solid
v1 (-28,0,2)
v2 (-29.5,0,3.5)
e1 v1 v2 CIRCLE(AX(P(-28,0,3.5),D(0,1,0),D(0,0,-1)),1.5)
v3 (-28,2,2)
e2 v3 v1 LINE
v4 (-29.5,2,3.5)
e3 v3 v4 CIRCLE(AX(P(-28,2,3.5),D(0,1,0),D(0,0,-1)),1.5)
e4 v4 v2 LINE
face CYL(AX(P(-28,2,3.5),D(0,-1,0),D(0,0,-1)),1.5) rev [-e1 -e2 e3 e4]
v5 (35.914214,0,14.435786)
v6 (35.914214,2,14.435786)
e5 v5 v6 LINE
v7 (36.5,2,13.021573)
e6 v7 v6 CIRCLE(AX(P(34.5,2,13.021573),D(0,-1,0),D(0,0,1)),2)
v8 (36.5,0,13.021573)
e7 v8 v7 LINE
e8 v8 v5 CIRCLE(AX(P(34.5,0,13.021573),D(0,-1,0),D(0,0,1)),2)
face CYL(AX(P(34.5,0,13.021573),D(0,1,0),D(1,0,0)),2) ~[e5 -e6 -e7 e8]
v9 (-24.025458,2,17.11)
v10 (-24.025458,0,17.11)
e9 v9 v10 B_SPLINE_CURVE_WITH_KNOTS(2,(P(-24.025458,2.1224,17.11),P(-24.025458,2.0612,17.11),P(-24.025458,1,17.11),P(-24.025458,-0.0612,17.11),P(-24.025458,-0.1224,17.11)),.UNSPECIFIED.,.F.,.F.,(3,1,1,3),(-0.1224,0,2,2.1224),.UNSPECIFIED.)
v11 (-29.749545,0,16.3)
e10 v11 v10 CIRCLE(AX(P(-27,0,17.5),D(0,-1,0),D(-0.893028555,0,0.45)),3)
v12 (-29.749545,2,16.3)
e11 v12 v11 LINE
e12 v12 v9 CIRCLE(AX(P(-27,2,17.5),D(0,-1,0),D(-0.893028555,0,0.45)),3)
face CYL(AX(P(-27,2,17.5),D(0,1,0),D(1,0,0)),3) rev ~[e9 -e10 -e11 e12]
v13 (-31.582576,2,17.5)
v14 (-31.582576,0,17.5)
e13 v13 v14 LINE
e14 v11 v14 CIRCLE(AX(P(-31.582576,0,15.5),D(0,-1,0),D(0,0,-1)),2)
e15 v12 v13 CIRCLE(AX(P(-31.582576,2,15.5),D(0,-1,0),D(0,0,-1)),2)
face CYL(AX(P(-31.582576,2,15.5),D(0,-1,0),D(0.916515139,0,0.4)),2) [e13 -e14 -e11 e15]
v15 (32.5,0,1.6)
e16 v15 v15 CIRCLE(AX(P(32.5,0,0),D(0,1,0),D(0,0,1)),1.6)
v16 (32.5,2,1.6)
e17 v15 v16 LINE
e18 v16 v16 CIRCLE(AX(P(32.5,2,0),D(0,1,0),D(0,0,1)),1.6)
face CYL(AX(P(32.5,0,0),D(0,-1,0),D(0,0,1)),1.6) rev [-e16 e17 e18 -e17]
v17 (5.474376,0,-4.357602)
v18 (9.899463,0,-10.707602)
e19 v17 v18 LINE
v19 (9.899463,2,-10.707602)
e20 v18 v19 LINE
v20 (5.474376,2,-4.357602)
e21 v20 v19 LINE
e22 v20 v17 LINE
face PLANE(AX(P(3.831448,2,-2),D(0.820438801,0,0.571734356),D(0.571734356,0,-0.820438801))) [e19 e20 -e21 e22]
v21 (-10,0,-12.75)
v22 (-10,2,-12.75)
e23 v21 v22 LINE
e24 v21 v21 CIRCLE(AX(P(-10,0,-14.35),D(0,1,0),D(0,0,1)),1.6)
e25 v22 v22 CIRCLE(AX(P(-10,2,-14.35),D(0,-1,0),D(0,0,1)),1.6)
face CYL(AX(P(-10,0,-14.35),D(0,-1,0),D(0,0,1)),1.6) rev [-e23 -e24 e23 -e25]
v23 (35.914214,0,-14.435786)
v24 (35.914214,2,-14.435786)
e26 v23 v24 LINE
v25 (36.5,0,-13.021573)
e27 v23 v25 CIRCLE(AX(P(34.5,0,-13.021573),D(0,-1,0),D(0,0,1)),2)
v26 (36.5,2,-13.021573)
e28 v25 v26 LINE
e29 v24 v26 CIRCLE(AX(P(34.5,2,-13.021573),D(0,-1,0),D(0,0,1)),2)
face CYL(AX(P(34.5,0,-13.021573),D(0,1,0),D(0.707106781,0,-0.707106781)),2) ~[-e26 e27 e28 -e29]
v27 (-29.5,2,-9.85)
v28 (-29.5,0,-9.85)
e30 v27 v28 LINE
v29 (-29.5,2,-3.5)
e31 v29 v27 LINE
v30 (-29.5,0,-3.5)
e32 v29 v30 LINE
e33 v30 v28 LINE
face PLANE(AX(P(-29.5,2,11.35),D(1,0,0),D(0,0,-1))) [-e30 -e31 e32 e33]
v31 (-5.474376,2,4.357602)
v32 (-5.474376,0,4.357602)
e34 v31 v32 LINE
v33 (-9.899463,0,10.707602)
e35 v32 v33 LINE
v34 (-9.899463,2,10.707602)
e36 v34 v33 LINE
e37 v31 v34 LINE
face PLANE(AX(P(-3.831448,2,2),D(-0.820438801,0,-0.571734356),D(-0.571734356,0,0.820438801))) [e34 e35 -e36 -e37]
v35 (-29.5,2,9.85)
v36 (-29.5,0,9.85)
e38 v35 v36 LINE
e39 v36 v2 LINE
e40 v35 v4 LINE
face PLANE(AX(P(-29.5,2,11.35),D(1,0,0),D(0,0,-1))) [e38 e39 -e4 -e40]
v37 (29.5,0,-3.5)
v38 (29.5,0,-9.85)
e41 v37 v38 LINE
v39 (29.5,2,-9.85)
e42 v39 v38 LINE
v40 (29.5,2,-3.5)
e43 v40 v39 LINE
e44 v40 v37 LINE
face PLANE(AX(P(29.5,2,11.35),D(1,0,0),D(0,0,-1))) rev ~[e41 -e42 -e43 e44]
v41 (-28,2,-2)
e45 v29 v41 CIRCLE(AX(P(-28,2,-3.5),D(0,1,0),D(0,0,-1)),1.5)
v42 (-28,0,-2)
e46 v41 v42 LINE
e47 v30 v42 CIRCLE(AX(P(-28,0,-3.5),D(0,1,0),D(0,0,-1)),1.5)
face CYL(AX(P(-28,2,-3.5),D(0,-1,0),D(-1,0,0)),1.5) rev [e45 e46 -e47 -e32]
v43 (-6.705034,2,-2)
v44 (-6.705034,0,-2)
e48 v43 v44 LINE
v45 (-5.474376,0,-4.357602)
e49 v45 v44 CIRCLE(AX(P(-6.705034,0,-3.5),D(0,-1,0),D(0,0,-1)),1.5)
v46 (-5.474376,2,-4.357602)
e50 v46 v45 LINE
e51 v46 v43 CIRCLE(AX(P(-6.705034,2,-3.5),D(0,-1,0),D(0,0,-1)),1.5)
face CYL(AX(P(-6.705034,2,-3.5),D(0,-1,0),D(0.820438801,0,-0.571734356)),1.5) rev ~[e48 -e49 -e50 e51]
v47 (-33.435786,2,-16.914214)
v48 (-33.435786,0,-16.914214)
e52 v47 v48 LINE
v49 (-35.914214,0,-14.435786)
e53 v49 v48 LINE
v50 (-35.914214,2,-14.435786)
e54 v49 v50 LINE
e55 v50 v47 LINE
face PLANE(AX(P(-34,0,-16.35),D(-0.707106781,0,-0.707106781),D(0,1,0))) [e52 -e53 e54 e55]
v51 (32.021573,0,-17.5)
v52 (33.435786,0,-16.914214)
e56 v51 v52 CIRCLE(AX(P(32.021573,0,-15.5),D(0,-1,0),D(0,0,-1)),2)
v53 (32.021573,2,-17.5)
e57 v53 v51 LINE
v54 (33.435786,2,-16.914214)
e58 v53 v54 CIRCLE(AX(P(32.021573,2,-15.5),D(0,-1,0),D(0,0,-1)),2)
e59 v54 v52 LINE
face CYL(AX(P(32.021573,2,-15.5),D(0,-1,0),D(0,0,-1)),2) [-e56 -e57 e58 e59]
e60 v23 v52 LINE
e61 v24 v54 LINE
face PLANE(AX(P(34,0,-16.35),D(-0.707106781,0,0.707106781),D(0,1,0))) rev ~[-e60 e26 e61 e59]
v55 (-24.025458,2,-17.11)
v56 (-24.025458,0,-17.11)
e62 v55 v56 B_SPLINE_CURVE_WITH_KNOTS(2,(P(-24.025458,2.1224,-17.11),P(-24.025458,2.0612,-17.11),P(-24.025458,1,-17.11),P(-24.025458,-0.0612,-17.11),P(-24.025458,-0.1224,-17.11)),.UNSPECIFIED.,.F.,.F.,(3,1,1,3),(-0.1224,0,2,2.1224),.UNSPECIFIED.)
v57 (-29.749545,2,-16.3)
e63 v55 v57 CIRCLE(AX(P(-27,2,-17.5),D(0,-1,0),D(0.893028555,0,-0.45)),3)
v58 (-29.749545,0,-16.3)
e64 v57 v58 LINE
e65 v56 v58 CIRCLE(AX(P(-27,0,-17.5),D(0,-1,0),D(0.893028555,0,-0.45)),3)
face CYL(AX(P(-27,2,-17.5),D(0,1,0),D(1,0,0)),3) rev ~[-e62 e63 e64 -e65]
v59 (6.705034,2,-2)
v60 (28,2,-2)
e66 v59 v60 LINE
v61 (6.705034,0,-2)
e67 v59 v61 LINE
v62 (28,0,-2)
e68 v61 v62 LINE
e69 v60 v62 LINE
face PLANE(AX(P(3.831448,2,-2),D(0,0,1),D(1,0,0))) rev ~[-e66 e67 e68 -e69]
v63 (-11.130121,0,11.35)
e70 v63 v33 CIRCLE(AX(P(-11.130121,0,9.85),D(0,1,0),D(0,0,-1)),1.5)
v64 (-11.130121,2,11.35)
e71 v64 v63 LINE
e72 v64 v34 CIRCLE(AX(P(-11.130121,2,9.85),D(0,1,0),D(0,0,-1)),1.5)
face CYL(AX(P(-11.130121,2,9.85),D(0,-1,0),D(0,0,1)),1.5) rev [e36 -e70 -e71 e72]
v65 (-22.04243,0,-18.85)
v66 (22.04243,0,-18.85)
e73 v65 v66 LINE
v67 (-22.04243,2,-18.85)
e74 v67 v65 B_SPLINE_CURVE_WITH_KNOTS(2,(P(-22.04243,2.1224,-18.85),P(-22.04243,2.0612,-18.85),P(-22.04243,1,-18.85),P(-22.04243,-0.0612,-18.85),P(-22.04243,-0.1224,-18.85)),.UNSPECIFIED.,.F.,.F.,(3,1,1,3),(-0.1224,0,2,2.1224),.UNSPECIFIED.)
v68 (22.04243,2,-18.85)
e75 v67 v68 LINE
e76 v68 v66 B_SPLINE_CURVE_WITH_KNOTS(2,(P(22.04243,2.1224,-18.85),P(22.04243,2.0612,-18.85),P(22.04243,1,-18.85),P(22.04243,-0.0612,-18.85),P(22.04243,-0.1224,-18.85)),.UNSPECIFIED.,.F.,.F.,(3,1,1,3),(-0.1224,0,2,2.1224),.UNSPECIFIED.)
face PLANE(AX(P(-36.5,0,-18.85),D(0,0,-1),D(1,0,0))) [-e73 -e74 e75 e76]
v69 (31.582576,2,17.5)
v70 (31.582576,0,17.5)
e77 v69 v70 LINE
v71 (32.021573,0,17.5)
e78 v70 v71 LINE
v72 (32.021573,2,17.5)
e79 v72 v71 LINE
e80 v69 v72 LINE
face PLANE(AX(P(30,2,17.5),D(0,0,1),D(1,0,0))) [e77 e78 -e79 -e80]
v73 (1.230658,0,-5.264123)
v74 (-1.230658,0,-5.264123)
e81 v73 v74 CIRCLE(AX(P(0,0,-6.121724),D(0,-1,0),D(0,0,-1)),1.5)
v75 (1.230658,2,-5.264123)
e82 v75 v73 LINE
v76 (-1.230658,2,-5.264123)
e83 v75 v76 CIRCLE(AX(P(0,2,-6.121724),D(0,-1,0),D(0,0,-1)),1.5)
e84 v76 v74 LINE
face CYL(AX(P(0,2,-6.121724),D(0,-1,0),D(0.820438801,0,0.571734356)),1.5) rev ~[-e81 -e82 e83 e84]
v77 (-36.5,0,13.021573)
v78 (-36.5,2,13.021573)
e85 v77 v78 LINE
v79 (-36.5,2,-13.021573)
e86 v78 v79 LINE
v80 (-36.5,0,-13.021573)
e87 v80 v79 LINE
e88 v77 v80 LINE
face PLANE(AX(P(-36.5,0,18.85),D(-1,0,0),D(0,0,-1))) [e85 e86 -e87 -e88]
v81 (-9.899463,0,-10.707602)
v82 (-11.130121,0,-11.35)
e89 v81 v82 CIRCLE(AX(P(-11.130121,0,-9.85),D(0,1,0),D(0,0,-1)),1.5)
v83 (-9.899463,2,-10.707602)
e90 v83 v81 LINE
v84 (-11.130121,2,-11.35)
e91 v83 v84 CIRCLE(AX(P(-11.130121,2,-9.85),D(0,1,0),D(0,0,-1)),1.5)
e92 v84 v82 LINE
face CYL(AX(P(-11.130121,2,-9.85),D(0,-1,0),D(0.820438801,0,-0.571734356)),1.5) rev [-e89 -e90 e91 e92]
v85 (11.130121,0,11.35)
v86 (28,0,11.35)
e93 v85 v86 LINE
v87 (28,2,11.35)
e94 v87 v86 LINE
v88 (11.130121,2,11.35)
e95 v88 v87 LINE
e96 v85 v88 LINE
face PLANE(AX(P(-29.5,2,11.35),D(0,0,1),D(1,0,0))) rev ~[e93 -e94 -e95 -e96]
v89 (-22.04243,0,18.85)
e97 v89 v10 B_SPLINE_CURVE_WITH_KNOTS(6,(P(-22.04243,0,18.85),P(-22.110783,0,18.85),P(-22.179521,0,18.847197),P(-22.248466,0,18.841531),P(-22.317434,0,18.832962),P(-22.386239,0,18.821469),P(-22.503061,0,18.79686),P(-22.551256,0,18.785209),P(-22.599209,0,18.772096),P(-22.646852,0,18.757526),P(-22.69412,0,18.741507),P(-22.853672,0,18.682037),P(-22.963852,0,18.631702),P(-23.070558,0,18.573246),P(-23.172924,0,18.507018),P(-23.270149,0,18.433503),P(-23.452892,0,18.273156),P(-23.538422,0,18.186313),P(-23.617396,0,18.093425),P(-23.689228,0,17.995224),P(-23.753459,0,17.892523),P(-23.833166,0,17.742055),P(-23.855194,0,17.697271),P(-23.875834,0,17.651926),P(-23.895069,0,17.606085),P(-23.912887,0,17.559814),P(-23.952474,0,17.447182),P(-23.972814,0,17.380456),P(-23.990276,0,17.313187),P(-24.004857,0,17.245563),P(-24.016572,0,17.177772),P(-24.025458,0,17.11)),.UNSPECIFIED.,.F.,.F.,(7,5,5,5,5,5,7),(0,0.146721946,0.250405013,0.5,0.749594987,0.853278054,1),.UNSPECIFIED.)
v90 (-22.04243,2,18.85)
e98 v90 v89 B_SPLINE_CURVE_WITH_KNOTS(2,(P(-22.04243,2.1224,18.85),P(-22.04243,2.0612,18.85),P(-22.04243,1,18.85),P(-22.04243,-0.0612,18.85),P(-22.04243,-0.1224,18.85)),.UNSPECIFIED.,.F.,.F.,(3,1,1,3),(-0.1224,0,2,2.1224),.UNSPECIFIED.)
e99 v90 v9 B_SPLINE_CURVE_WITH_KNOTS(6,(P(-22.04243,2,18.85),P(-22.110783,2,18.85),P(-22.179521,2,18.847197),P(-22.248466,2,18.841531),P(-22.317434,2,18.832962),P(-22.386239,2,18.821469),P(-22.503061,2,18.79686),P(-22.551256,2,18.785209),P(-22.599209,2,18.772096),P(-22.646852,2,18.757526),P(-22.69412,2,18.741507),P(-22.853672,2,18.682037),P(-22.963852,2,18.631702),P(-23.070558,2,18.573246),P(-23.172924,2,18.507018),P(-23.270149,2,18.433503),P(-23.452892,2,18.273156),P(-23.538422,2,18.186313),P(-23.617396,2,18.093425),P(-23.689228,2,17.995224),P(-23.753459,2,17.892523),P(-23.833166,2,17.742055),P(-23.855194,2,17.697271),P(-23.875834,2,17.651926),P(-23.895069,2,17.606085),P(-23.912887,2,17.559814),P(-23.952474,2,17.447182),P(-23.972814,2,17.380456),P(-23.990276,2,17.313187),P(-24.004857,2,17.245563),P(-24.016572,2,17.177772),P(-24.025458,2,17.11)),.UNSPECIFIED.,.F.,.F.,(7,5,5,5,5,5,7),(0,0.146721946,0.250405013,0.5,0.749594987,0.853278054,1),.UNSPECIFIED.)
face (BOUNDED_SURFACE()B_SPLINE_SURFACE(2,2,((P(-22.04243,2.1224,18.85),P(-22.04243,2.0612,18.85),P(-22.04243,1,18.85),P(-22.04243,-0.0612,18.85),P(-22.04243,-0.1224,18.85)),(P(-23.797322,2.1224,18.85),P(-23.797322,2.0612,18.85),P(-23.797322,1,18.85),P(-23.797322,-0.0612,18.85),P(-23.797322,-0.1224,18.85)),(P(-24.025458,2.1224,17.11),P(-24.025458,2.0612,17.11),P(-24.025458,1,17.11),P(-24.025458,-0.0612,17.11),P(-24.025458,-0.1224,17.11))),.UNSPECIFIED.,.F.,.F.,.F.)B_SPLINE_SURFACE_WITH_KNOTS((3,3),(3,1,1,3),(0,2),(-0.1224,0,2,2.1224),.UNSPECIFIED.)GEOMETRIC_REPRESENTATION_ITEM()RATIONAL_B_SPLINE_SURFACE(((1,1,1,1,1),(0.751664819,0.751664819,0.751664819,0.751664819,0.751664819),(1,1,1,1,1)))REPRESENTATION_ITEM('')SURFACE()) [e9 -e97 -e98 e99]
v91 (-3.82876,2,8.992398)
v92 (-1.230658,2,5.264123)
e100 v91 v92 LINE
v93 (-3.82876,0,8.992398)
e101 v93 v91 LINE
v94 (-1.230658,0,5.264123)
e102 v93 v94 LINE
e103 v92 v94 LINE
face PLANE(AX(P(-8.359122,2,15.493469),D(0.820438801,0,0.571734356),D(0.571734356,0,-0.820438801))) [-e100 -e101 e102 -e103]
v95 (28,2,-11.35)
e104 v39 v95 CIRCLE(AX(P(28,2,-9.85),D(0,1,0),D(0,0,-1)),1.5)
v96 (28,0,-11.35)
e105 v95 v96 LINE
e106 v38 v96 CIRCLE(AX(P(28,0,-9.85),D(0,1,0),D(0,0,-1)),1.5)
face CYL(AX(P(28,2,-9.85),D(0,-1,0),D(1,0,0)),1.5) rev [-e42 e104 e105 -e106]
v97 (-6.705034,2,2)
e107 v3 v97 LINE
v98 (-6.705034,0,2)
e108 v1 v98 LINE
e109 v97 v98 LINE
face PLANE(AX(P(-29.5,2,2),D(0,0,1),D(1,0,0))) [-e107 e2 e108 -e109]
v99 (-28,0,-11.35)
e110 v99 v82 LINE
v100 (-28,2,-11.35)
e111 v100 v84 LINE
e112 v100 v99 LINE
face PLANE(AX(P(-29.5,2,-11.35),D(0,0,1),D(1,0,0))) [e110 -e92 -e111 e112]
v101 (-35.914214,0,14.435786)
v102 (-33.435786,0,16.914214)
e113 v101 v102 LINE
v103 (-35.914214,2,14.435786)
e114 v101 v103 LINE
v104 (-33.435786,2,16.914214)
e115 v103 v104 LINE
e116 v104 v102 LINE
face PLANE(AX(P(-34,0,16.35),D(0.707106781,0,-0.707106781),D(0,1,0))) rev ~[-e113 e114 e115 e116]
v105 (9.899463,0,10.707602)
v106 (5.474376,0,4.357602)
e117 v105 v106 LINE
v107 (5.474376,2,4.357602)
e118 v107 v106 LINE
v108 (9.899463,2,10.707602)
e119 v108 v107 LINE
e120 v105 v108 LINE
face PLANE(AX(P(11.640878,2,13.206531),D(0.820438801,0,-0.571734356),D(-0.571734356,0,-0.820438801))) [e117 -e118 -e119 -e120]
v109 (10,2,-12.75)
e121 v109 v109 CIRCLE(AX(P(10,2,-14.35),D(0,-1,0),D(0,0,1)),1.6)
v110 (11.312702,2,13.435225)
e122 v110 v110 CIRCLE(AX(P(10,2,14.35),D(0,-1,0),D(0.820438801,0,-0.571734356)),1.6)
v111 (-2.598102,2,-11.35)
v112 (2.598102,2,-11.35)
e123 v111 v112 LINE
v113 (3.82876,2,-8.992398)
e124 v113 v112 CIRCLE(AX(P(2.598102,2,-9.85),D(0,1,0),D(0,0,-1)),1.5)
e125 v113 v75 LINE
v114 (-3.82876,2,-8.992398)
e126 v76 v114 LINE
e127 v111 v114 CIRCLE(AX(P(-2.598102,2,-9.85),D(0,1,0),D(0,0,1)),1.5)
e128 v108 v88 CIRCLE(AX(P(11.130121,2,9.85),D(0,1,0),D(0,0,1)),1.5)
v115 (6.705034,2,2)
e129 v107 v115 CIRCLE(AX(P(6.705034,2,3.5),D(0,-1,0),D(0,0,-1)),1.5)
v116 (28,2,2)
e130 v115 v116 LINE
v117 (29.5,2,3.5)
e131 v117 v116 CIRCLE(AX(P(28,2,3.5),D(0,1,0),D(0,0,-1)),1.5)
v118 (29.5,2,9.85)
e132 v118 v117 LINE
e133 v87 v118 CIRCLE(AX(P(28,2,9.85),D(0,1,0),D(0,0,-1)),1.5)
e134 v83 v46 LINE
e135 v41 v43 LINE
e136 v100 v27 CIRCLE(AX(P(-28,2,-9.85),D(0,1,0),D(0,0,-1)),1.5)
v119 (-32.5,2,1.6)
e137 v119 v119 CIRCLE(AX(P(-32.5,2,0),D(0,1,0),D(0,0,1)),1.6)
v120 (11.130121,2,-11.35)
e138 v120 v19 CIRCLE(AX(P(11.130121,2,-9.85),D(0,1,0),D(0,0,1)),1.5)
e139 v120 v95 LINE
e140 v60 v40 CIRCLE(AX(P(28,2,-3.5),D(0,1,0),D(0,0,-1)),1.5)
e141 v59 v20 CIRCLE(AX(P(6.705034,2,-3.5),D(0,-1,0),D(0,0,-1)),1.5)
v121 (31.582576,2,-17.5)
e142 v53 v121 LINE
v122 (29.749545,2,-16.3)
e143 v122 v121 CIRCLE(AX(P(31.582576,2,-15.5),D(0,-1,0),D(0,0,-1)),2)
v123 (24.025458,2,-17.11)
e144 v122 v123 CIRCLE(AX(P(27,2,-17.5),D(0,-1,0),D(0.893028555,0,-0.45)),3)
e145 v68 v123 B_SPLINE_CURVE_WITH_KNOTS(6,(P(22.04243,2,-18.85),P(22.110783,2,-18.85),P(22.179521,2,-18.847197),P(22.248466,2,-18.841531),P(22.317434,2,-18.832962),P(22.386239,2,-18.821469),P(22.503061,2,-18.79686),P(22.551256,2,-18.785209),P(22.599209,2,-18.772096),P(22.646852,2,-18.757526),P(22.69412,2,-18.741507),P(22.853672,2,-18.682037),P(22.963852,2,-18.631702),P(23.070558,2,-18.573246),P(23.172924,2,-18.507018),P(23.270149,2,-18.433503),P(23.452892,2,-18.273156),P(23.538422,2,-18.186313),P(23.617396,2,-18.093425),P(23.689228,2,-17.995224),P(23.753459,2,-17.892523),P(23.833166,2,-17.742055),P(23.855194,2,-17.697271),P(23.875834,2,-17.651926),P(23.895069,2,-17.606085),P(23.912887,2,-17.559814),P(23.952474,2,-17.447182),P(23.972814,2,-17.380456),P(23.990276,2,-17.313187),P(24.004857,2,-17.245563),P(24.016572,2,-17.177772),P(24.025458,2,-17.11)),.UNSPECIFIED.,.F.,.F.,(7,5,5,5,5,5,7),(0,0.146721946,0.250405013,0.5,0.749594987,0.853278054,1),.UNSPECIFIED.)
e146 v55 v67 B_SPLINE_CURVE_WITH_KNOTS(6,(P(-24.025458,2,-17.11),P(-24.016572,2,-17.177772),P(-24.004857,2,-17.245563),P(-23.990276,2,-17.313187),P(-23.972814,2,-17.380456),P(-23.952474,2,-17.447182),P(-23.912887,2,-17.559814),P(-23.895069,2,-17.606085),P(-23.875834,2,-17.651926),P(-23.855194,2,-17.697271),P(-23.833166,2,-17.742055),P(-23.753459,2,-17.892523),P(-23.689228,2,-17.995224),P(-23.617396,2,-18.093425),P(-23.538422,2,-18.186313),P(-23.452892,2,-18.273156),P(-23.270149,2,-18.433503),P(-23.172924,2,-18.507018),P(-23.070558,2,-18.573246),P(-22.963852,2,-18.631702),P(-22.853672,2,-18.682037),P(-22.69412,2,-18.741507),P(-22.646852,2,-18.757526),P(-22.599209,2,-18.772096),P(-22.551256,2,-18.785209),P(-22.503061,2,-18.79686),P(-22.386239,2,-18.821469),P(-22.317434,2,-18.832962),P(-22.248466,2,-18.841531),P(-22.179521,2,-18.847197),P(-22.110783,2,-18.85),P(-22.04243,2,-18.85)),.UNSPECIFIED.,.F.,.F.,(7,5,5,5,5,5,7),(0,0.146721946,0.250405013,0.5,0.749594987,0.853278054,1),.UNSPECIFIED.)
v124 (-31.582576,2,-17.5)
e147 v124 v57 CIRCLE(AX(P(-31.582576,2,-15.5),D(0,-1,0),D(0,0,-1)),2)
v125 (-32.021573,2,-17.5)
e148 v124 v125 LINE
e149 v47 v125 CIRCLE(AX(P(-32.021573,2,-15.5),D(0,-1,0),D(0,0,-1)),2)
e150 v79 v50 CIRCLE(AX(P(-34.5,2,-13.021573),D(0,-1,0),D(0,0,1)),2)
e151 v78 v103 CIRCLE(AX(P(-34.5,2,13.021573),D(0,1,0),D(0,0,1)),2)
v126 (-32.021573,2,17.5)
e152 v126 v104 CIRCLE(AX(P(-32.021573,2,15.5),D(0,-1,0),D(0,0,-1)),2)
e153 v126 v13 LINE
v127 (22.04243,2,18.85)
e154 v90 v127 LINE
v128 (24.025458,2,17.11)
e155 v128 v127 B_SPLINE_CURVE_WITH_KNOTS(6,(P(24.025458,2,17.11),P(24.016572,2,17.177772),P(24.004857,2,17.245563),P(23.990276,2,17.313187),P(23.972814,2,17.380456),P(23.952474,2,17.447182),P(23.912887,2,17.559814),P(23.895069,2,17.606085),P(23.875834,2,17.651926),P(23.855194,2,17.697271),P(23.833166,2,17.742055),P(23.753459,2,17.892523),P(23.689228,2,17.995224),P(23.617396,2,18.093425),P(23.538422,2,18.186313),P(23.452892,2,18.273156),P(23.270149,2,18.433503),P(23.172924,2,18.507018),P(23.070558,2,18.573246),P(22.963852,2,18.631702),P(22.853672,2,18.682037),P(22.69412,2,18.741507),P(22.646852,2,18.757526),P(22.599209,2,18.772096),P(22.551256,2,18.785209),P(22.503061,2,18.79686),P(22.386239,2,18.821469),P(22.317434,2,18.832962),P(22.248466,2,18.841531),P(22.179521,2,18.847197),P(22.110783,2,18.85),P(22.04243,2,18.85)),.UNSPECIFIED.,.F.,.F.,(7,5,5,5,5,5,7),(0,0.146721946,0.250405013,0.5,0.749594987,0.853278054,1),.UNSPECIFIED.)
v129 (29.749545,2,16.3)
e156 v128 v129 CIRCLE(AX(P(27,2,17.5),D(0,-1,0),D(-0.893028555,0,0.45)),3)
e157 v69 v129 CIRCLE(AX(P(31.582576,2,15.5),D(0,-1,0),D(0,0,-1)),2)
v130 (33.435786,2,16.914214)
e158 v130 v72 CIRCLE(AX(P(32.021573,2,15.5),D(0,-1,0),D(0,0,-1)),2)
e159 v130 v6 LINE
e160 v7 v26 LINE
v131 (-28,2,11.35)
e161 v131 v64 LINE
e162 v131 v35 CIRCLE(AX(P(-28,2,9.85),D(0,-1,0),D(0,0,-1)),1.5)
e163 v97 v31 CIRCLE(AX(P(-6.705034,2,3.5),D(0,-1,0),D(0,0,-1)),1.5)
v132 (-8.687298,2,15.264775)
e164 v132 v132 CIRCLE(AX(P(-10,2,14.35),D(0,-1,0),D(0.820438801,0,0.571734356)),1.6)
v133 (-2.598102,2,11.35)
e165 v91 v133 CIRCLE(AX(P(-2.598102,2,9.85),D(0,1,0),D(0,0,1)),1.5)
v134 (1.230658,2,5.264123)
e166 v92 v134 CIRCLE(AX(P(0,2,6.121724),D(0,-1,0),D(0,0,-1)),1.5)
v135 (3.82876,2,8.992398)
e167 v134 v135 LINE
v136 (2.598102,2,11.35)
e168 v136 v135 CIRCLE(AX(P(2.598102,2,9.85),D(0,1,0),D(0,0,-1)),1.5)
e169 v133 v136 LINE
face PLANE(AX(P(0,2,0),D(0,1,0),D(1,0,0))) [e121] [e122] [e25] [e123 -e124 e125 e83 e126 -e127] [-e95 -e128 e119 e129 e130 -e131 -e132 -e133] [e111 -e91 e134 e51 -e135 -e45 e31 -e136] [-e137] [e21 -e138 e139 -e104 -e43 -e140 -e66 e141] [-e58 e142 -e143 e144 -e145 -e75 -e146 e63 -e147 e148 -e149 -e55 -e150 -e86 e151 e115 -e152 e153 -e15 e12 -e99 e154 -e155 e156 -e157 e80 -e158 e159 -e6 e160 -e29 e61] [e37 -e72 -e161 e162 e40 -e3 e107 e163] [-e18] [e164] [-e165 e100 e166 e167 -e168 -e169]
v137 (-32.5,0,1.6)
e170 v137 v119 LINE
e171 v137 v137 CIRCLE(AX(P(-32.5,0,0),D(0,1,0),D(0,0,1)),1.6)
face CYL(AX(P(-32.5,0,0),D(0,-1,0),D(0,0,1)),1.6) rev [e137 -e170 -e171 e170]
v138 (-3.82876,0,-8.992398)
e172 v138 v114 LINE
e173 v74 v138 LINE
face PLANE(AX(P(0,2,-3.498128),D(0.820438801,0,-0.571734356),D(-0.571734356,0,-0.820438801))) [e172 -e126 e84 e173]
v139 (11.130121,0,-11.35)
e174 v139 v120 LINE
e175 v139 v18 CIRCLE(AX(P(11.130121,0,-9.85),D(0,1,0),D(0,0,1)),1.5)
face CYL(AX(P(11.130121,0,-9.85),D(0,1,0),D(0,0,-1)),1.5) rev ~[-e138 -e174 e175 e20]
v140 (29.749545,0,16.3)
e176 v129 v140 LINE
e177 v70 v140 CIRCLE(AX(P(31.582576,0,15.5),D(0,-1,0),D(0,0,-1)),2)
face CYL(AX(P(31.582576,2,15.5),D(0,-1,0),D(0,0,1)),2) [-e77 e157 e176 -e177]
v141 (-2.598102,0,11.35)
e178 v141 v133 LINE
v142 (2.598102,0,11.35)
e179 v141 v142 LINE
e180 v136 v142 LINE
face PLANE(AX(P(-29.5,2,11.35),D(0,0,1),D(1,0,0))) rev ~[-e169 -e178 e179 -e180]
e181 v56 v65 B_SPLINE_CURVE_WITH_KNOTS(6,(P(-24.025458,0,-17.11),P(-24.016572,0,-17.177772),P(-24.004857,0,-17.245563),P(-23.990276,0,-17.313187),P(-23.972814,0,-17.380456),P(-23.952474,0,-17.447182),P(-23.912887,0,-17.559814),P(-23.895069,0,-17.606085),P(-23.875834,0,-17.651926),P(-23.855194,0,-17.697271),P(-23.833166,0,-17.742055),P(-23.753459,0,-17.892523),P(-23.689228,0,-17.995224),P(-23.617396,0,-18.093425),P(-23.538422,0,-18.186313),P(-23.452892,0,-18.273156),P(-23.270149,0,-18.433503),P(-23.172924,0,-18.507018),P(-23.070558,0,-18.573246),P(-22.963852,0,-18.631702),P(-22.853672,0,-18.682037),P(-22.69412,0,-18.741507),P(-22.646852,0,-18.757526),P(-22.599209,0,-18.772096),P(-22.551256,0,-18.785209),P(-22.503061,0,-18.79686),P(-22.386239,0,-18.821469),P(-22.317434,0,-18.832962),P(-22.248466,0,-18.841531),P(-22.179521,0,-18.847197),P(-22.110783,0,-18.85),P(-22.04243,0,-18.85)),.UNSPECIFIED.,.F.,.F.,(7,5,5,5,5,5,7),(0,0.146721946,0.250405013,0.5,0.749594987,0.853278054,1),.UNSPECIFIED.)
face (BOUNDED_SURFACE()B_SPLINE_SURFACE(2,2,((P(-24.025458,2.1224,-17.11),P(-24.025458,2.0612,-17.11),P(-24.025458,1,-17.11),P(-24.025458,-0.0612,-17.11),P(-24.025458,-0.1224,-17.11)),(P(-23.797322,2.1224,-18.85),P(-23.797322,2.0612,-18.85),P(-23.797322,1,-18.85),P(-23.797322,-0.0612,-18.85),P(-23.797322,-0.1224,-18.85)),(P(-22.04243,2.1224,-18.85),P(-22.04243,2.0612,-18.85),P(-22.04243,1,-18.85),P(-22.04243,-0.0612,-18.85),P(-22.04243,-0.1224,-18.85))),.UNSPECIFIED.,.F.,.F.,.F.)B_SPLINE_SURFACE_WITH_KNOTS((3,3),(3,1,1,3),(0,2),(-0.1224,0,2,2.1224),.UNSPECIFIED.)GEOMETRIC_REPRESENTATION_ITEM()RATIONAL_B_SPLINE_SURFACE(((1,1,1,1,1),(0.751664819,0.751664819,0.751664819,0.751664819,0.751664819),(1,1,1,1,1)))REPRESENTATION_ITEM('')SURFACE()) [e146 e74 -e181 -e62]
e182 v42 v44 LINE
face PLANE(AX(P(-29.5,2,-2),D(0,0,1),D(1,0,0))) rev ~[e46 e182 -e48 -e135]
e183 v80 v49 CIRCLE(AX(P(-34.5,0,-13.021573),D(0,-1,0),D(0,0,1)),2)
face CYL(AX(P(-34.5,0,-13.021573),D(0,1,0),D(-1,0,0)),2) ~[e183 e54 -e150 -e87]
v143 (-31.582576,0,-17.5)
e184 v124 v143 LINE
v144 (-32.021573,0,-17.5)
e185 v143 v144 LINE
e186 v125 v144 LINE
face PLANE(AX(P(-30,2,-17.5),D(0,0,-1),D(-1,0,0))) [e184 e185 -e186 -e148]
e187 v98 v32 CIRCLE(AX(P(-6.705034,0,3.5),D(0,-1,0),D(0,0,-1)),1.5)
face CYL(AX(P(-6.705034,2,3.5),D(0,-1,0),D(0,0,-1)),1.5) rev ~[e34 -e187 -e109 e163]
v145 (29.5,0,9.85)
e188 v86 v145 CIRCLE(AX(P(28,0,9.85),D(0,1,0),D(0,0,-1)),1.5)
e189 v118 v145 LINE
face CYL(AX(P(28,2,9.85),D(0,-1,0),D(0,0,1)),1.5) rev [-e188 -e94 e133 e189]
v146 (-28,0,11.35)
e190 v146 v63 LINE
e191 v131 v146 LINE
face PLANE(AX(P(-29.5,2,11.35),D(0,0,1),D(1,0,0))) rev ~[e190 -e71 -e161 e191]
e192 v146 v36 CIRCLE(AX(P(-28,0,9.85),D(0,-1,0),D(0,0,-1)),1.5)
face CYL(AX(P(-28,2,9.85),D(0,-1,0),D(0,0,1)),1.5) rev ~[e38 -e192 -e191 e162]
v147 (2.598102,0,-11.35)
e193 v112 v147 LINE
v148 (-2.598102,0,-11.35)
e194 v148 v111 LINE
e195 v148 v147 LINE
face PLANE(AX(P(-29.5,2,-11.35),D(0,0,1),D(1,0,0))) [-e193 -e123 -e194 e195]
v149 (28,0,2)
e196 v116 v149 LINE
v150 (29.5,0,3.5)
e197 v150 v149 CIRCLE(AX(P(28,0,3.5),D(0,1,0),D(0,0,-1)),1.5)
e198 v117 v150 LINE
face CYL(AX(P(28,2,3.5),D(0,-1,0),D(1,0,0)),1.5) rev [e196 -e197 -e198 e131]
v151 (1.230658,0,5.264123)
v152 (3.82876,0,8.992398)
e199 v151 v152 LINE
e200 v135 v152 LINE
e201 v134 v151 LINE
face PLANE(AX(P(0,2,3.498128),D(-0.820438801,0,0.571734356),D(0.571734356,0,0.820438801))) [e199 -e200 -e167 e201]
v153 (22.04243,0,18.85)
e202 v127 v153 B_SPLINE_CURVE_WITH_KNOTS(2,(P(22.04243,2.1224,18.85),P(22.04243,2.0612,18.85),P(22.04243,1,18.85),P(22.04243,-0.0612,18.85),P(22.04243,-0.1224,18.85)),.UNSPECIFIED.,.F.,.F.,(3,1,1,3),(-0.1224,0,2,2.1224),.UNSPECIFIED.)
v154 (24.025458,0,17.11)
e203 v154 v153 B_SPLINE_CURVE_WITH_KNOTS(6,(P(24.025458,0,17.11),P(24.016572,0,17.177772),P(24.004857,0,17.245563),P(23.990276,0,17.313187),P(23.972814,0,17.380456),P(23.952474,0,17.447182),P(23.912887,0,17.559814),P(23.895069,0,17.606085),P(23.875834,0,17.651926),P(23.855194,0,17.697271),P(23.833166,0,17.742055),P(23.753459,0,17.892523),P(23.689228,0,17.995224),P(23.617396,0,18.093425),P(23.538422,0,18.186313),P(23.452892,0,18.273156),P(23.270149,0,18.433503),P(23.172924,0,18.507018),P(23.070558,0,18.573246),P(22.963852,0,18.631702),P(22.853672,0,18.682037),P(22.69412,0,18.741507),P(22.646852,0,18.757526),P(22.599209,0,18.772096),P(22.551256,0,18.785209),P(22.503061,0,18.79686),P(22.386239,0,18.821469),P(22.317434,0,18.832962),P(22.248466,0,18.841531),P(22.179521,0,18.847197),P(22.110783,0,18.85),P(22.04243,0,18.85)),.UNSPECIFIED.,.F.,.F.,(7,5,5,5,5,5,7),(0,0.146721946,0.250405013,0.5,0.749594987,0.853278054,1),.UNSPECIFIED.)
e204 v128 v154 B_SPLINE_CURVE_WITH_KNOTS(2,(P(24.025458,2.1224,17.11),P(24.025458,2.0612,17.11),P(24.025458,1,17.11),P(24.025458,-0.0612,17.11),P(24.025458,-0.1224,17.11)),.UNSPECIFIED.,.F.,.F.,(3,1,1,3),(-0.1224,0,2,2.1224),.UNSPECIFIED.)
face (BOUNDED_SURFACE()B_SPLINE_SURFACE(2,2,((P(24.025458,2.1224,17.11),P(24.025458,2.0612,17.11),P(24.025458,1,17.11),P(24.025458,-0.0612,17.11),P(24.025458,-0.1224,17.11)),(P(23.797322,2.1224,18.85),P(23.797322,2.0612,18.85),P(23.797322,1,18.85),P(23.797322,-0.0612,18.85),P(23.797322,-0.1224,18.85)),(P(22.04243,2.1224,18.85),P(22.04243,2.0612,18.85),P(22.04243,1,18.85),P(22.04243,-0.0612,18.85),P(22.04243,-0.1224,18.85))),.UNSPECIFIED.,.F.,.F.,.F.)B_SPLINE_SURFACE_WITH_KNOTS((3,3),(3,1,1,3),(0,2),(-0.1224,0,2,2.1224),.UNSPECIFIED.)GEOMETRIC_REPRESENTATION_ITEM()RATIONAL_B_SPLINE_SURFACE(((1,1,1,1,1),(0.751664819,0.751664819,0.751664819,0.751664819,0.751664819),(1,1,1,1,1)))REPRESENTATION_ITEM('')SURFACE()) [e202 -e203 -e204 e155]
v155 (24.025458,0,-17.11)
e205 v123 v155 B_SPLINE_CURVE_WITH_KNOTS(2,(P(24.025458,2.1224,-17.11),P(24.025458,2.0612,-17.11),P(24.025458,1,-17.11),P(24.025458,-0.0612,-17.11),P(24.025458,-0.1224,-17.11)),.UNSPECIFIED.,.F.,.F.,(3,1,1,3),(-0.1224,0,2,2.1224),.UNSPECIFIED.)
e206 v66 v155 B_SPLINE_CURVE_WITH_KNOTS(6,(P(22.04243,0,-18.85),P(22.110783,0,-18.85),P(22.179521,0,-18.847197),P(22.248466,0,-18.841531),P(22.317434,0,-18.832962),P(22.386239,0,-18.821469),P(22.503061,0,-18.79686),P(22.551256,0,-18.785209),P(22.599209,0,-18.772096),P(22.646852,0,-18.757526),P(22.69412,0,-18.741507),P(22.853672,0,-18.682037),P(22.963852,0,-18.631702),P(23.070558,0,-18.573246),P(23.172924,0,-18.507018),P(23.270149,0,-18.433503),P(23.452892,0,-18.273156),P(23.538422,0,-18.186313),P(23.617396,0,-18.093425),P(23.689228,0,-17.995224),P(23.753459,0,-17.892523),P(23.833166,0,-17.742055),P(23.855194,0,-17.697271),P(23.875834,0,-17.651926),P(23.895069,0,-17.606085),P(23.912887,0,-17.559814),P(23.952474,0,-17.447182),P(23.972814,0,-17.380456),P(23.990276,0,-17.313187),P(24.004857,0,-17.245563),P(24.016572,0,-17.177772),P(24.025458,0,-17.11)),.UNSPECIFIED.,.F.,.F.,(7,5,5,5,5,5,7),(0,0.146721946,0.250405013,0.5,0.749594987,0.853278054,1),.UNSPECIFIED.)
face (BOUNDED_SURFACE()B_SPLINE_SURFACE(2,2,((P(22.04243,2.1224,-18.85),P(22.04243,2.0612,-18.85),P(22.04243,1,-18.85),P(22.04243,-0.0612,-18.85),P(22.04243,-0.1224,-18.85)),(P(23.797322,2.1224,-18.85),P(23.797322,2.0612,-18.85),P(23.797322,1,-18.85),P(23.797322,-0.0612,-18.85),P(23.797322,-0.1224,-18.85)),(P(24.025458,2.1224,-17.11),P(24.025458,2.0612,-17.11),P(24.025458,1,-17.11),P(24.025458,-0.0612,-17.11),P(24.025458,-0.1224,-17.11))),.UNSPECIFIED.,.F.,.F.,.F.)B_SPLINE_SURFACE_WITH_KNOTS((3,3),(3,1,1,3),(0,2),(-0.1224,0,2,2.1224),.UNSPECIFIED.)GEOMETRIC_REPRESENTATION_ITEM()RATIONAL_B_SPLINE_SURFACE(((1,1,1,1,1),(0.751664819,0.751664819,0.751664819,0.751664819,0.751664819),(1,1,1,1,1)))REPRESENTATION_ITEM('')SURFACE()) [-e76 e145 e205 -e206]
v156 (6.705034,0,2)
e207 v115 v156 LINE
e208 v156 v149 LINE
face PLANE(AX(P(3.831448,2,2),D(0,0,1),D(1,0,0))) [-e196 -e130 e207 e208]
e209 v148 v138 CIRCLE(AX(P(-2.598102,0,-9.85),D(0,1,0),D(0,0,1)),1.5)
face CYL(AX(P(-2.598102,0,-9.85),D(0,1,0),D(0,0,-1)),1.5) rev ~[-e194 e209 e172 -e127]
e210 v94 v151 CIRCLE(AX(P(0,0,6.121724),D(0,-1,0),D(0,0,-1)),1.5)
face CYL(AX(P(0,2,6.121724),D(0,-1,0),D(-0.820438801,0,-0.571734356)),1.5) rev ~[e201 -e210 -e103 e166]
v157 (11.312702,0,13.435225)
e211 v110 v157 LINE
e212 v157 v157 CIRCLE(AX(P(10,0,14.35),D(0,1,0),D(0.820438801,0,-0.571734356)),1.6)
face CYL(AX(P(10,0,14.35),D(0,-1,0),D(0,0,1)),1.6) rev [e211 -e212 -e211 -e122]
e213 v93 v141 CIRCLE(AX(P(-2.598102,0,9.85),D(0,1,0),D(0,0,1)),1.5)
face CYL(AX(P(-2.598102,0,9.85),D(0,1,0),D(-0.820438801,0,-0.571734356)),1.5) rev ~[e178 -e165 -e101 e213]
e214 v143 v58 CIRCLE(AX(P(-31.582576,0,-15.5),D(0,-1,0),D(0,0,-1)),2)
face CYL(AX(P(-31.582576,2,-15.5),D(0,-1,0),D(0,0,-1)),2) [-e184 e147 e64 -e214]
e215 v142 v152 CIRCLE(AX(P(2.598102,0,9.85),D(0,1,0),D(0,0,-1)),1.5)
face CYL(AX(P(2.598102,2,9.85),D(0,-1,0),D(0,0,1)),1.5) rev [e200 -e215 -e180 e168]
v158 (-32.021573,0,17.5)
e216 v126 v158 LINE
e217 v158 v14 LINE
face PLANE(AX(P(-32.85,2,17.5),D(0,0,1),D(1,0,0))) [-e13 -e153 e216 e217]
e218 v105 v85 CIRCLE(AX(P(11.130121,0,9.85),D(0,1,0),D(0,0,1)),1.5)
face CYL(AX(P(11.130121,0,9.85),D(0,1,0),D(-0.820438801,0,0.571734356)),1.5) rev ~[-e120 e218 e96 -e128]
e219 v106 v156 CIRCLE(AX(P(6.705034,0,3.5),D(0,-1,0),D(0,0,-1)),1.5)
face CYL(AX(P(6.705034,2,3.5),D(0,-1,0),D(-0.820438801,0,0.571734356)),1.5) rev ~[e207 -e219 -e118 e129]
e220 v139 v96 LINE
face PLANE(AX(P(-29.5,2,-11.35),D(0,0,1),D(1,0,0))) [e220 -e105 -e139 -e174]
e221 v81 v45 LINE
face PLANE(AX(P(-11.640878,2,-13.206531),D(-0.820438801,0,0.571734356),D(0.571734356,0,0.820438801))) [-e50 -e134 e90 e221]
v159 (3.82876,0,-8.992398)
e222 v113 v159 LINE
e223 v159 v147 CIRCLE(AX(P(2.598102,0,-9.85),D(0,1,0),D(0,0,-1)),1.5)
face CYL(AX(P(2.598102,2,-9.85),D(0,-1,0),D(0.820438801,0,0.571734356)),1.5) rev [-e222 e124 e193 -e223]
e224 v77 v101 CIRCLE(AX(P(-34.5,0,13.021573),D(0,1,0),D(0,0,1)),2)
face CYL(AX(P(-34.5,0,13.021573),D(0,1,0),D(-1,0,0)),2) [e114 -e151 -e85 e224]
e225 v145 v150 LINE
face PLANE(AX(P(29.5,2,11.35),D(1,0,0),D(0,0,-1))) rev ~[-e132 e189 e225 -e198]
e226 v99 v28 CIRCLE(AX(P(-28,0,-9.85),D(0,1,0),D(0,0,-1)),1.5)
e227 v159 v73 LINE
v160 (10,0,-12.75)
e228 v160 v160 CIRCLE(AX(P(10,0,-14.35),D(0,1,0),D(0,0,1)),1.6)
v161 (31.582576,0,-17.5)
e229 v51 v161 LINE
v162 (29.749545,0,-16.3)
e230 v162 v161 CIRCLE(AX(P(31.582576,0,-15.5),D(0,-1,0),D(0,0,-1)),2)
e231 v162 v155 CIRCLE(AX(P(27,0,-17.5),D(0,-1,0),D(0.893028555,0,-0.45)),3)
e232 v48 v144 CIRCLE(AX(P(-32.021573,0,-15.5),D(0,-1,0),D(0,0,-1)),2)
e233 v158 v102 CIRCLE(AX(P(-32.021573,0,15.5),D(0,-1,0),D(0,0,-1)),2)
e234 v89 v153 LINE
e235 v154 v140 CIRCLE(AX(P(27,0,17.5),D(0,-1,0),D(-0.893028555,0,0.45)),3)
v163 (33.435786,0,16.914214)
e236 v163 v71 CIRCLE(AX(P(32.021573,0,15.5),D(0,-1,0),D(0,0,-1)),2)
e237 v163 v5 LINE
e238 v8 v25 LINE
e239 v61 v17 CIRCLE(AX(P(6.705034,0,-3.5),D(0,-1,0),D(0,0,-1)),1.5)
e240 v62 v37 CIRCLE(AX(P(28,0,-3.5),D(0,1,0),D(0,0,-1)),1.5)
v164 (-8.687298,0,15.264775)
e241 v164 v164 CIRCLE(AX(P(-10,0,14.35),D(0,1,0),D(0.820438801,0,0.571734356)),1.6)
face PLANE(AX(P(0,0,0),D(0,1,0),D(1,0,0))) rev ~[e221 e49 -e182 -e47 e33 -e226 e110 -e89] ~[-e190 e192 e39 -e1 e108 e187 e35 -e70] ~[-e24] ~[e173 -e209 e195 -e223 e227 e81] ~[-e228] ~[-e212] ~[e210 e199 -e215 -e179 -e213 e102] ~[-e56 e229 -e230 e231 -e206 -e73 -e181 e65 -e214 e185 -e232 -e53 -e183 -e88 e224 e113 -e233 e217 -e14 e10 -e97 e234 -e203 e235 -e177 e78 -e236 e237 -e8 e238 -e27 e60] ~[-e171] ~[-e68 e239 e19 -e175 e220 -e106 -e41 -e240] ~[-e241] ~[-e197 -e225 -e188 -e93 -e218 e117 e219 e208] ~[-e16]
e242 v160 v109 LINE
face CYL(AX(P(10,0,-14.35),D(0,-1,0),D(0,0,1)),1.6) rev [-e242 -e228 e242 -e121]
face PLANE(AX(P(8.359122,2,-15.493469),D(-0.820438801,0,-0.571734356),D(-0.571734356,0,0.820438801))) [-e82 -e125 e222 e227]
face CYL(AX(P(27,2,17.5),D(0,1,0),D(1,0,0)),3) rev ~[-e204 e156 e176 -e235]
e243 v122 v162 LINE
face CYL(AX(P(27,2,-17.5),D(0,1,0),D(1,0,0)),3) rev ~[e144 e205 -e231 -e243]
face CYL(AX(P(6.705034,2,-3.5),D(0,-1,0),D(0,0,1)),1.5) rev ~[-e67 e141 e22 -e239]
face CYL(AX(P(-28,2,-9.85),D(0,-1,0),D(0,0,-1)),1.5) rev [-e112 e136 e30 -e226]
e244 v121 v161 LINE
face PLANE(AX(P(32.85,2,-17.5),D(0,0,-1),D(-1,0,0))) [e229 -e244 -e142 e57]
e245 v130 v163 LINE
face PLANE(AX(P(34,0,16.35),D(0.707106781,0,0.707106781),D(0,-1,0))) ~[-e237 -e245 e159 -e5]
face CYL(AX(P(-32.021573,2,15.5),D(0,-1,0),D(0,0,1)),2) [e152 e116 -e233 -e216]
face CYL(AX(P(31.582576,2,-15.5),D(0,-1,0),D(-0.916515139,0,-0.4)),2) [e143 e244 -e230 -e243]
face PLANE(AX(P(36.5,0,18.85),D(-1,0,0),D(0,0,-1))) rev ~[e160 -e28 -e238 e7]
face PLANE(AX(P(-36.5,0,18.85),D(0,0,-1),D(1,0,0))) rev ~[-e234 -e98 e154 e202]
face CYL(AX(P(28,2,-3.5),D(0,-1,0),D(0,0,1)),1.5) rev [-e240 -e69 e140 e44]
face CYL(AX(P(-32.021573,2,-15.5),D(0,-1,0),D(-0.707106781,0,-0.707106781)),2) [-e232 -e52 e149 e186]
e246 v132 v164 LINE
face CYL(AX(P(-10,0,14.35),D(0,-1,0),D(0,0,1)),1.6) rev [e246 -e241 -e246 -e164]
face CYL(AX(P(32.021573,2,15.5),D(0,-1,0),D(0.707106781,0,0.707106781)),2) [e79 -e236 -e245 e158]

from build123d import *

# Parameters (mm, degrees)
SKETCH_1_W          = 73
SKETCH_1_H          = 37.7
SKETCH_1_R          = 1.6
EXTRUDE_1_DEPTH     = 2
SKETCH_2_W          = 59
SKETCH_2_H          = 22.7
CUT_EXTRUDE_1_DEPTH = 10
SKETCH_3_W          = 59
SKETCH_3_H          = 4
EXTRUDE_1_2_DEPTH   = 2
CUT_EXTRUDE_START   = -2
SKETCH_4_R          = 1.6
CUT_EXTRUDE_2_DEPTH = 2
FILLET_2_R          = 1.5
CHAMFER_1_SIZE      = 5
SKETCH_6_R          = 3
CUT_EXTRUDE_3_DEPTH = 10
CUT_EXTRUDE_4_DEPTH = 10
FILLET_3_R          = 2


with BuildPart() as part:
    # 草图1 → Extrude 1 (new body)
    with BuildSketch(Plane(origin=(0, 0, 0), x_dir=(1, 0, 0), z_dir=(0, 1, 0))):
        Rectangle(SKETCH_1_W, SKETCH_1_H)
        with Locations(Location((10, -14.35, 0), (0, 0, 270))):
            Circle(SKETCH_1_R, mode=Mode.SUBTRACT)
        with Locations(Location((-10, -14.35, 0), (0, 0, 270))):
            Circle(SKETCH_1_R, mode=Mode.SUBTRACT)
        with Locations(Location((-10, 14.35, 0), (0, 0, 270))):
            Circle(SKETCH_1_R, mode=Mode.SUBTRACT)
        with Locations(Location((10, 14.35, 0), (0, 0, 270))):
            Circle(SKETCH_1_R, mode=Mode.SUBTRACT)
        with Locations(Location((-32.5, 0, 0), (0, 0, 270))):
            Circle(SKETCH_1_R, mode=Mode.SUBTRACT)
        with Locations(Location((32.5, 0, 0), (0, 0, 270))):
            Circle(SKETCH_1_R, mode=Mode.SUBTRACT)
    extrude(amount=EXTRUDE_1_DEPTH)

    # 草图2 → 切除-拉伸1 (cut)
    with BuildSketch(Plane(origin=(0, 2, 0), x_dir=(1, 0, 0), z_dir=(0, 1, 0))):
        Rectangle(SKETCH_2_W, SKETCH_2_H)
    extrude(amount=-CUT_EXTRUDE_1_DEPTH, mode=Mode.SUBTRACT)

    # 草图3 → Extrude 1 2 (add)
    with BuildSketch(Plane(origin=(0, 2, 0), x_dir=(1, 0, 0), z_dir=(0, 1, 0))):
        Rectangle(SKETCH_3_W, SKETCH_3_H)
        Polygon((-11.640877602, 13.206531288), (8.359122398, -15.493468712), (11.640877602, -13.206531288), (-8.359122398, 15.493468712), align=None)
        Polygon((8.359122398, 15.493468712), (-11.640877602, -13.206531288), (-8.359122398, -15.493468712), (11.640877602, 13.206531288), align=None)
    extrude(amount=-EXTRUDE_1_2_DEPTH)

    # 草图4 → 切除-拉伸2 (cut)
    with BuildSketch(Plane(origin=(0, 2, 0), x_dir=(1, 0, 0), z_dir=(0, 1, 0)).offset(CUT_EXTRUDE_START)):
        with Locations(Location((10, -14.35, 0), (0, 0, 270))):
            Circle(SKETCH_4_R)
        with Locations(Location((-10, -14.35, 0), (0, 0, 270))):
            Circle(SKETCH_4_R)
        with Locations(Location((10, 14.35, 0), (0, 0, 270))):
            Circle(SKETCH_4_R)
        with Locations(Location((-10, 14.35, 0), (0, 0, 270))):
            Circle(SKETCH_4_R)
    extrude(amount=CUT_EXTRUDE_2_DEPTH, mode=Mode.SUBTRACT)

    # 圆角2
    fillet_2_edges = [part.edges().sort_by_distance(p)[0] for p in [
        (-3.831448133, 1, 2),
        (0, 1, -3.498128071),
        (3.831448133, 1, -2),
        (3.831448133, 1, 2),
        (29.5, 1, 2),
        (-29.5, 1, 2),
        (-3.831448133, 1, -2),
        (-29.5, 1, -2),
        (29.5, 1, -2),
        (29.5, 1, -11.35),
        (29.5, 1, 11.35),
        (-29.5, 1, 11.35),
        (-29.5, 1, -11.35),
        (-10.347127575, 1, -11.35),
        (10.347127575, 1, -11.35),
        (5.471687756, 1, -11.35),
        (-5.471687756, 1, -11.35),
        (-5.471687756, 1, 11.35),
        (-10.347127575, 1, 11.35),
        (10.347127575, 1, 11.35),
        (5.471687756, 1, 11.35),
        (0, 1, 3.498128071),
    ]]
    fillet(fillet_2_edges, radius=FILLET_2_R)

    # 倒角1
    chamfer_1_edges = [part.edges().sort_by_distance(p)[0] for p in [
        (36.5, 1, 18.85),
        (-36.5, 1, 18.85),
        (-36.5, 1, -18.85),
        (36.5, 1, -18.85),
    ]]
    chamfer(chamfer_1_edges, length=CHAMFER_1_SIZE)

    # 草图6 → 切除-拉伸3 (cut)
    with BuildSketch(Plane(origin=(0, 2, 0), x_dir=(1, 0, 0), z_dir=(0, 1, 0))):
        with Locations((27, 17.5)):
            Circle(SKETCH_6_R)
        with Locations((27, -17.5)):
            Circle(SKETCH_6_R)
        with Locations((-27, -17.5)):
            Circle(SKETCH_6_R)
        with Locations((-27, 17.5)):
            Circle(SKETCH_6_R)
    extrude(amount=-CUT_EXTRUDE_3_DEPTH, mode=Mode.SUBTRACT)

    # 草图7 → 切除-拉伸4 (cut)
    with BuildSketch(Plane(origin=(0, 2, 0), x_dir=(1, 0, 0), z_dir=(0, 1, 0))):
        with BuildLine():
            Line((30, -17.5), (32.85, -17.5))
            Line((32.85, -17.5), (31.5, -18.85))
            Line((31.5, -18.85), (29.679085665, -18.85))
            ThreePointArc((29.679085665, -18.85), (29.91866896, -18.193809414), (30, -17.5))
        make_face()
        with BuildLine():
            Line((24, -17.5), (24, -18.85))
            Line((24, -18.85), (24.320914335, -18.85))
            ThreePointArc((24.320914335, -18.85), (24.08133104, -18.193809414), (24, -17.5))
        make_face()
        with BuildLine():
            Line((24.320914335, 18.85), (24, 18.85))
            Line((24, 18.85), (24, 17.5))
            ThreePointArc((24, 17.5), (24.08133104, 18.193809414), (24.320914335, 18.85))
        make_face()
        with BuildLine():
            Line((31.5, 18.85), (32.85, 17.5))
            Line((32.85, 17.5), (30, 17.5))
            ThreePointArc((30, 17.5), (29.91866896, 18.193809414), (29.679085665, 18.85))
            Line((29.679085665, 18.85), (31.5, 18.85))
        make_face()
        with BuildLine():
            Line((-30, 17.5), (-32.85, 17.5))
            Line((-32.85, 17.5), (-31.5, 18.85))
            Line((-31.5, 18.85), (-29.679085665, 18.85))
            ThreePointArc((-29.679085665, 18.85), (-29.91866896, 18.193809414), (-30, 17.5))
        make_face()
        with BuildLine():
            Line((-24, 17.5), (-24, 18.85))
            Line((-24, 18.85), (-24.320914335, 18.85))
            ThreePointArc((-24.320914335, 18.85), (-24.08133104, 18.193809414), (-24, 17.5))
        make_face()
        with BuildLine():
            Line((-24.320914335, -18.85), (-24, -18.85))
            Line((-24, -18.85), (-24, -17.5))
            ThreePointArc((-24, -17.5), (-24.08133104, -18.193809414), (-24.320914335, -18.85))
        make_face()
        with BuildLine():
            Line((-31.5, -18.85), (-32.85, -17.5))
            Line((-32.85, -17.5), (-30, -17.5))
            ThreePointArc((-30, -17.5), (-29.91866896, -18.193809414), (-29.679085665, -18.85))
            Line((-29.679085665, -18.85), (-31.5, -18.85))
        make_face()
    extrude(amount=-CUT_EXTRUDE_4_DEPTH, mode=Mode.SUBTRACT)

    # 圆角3
    fillet_3_edges = [part.edges().sort_by_distance(p)[0] for p in [
        (-36.5, 1, -13.85),
        (-36.5, 1, 13.85),
        (36.5, 1, 13.85),
        (36.5, 1, -13.85),
        (-32.85, 1, 17.5),
        (-30, 1, 17.5),
        (24, 1, 18.85),
        (30, 1, 17.5),
        (32.85, 1, 17.5),
        (32.85, 1, -17.5),
        (30, 1, -17.5),
        (24, 1, -18.85),
        (-24, 1, -18.85),
        (-30, 1, -17.5),
        (-32.85, 1, -17.5),
        (-24, 1, 18.85),
    ]]
    fillet(fillet_3_edges, radius=FILLET_3_R)


solid = part.part
